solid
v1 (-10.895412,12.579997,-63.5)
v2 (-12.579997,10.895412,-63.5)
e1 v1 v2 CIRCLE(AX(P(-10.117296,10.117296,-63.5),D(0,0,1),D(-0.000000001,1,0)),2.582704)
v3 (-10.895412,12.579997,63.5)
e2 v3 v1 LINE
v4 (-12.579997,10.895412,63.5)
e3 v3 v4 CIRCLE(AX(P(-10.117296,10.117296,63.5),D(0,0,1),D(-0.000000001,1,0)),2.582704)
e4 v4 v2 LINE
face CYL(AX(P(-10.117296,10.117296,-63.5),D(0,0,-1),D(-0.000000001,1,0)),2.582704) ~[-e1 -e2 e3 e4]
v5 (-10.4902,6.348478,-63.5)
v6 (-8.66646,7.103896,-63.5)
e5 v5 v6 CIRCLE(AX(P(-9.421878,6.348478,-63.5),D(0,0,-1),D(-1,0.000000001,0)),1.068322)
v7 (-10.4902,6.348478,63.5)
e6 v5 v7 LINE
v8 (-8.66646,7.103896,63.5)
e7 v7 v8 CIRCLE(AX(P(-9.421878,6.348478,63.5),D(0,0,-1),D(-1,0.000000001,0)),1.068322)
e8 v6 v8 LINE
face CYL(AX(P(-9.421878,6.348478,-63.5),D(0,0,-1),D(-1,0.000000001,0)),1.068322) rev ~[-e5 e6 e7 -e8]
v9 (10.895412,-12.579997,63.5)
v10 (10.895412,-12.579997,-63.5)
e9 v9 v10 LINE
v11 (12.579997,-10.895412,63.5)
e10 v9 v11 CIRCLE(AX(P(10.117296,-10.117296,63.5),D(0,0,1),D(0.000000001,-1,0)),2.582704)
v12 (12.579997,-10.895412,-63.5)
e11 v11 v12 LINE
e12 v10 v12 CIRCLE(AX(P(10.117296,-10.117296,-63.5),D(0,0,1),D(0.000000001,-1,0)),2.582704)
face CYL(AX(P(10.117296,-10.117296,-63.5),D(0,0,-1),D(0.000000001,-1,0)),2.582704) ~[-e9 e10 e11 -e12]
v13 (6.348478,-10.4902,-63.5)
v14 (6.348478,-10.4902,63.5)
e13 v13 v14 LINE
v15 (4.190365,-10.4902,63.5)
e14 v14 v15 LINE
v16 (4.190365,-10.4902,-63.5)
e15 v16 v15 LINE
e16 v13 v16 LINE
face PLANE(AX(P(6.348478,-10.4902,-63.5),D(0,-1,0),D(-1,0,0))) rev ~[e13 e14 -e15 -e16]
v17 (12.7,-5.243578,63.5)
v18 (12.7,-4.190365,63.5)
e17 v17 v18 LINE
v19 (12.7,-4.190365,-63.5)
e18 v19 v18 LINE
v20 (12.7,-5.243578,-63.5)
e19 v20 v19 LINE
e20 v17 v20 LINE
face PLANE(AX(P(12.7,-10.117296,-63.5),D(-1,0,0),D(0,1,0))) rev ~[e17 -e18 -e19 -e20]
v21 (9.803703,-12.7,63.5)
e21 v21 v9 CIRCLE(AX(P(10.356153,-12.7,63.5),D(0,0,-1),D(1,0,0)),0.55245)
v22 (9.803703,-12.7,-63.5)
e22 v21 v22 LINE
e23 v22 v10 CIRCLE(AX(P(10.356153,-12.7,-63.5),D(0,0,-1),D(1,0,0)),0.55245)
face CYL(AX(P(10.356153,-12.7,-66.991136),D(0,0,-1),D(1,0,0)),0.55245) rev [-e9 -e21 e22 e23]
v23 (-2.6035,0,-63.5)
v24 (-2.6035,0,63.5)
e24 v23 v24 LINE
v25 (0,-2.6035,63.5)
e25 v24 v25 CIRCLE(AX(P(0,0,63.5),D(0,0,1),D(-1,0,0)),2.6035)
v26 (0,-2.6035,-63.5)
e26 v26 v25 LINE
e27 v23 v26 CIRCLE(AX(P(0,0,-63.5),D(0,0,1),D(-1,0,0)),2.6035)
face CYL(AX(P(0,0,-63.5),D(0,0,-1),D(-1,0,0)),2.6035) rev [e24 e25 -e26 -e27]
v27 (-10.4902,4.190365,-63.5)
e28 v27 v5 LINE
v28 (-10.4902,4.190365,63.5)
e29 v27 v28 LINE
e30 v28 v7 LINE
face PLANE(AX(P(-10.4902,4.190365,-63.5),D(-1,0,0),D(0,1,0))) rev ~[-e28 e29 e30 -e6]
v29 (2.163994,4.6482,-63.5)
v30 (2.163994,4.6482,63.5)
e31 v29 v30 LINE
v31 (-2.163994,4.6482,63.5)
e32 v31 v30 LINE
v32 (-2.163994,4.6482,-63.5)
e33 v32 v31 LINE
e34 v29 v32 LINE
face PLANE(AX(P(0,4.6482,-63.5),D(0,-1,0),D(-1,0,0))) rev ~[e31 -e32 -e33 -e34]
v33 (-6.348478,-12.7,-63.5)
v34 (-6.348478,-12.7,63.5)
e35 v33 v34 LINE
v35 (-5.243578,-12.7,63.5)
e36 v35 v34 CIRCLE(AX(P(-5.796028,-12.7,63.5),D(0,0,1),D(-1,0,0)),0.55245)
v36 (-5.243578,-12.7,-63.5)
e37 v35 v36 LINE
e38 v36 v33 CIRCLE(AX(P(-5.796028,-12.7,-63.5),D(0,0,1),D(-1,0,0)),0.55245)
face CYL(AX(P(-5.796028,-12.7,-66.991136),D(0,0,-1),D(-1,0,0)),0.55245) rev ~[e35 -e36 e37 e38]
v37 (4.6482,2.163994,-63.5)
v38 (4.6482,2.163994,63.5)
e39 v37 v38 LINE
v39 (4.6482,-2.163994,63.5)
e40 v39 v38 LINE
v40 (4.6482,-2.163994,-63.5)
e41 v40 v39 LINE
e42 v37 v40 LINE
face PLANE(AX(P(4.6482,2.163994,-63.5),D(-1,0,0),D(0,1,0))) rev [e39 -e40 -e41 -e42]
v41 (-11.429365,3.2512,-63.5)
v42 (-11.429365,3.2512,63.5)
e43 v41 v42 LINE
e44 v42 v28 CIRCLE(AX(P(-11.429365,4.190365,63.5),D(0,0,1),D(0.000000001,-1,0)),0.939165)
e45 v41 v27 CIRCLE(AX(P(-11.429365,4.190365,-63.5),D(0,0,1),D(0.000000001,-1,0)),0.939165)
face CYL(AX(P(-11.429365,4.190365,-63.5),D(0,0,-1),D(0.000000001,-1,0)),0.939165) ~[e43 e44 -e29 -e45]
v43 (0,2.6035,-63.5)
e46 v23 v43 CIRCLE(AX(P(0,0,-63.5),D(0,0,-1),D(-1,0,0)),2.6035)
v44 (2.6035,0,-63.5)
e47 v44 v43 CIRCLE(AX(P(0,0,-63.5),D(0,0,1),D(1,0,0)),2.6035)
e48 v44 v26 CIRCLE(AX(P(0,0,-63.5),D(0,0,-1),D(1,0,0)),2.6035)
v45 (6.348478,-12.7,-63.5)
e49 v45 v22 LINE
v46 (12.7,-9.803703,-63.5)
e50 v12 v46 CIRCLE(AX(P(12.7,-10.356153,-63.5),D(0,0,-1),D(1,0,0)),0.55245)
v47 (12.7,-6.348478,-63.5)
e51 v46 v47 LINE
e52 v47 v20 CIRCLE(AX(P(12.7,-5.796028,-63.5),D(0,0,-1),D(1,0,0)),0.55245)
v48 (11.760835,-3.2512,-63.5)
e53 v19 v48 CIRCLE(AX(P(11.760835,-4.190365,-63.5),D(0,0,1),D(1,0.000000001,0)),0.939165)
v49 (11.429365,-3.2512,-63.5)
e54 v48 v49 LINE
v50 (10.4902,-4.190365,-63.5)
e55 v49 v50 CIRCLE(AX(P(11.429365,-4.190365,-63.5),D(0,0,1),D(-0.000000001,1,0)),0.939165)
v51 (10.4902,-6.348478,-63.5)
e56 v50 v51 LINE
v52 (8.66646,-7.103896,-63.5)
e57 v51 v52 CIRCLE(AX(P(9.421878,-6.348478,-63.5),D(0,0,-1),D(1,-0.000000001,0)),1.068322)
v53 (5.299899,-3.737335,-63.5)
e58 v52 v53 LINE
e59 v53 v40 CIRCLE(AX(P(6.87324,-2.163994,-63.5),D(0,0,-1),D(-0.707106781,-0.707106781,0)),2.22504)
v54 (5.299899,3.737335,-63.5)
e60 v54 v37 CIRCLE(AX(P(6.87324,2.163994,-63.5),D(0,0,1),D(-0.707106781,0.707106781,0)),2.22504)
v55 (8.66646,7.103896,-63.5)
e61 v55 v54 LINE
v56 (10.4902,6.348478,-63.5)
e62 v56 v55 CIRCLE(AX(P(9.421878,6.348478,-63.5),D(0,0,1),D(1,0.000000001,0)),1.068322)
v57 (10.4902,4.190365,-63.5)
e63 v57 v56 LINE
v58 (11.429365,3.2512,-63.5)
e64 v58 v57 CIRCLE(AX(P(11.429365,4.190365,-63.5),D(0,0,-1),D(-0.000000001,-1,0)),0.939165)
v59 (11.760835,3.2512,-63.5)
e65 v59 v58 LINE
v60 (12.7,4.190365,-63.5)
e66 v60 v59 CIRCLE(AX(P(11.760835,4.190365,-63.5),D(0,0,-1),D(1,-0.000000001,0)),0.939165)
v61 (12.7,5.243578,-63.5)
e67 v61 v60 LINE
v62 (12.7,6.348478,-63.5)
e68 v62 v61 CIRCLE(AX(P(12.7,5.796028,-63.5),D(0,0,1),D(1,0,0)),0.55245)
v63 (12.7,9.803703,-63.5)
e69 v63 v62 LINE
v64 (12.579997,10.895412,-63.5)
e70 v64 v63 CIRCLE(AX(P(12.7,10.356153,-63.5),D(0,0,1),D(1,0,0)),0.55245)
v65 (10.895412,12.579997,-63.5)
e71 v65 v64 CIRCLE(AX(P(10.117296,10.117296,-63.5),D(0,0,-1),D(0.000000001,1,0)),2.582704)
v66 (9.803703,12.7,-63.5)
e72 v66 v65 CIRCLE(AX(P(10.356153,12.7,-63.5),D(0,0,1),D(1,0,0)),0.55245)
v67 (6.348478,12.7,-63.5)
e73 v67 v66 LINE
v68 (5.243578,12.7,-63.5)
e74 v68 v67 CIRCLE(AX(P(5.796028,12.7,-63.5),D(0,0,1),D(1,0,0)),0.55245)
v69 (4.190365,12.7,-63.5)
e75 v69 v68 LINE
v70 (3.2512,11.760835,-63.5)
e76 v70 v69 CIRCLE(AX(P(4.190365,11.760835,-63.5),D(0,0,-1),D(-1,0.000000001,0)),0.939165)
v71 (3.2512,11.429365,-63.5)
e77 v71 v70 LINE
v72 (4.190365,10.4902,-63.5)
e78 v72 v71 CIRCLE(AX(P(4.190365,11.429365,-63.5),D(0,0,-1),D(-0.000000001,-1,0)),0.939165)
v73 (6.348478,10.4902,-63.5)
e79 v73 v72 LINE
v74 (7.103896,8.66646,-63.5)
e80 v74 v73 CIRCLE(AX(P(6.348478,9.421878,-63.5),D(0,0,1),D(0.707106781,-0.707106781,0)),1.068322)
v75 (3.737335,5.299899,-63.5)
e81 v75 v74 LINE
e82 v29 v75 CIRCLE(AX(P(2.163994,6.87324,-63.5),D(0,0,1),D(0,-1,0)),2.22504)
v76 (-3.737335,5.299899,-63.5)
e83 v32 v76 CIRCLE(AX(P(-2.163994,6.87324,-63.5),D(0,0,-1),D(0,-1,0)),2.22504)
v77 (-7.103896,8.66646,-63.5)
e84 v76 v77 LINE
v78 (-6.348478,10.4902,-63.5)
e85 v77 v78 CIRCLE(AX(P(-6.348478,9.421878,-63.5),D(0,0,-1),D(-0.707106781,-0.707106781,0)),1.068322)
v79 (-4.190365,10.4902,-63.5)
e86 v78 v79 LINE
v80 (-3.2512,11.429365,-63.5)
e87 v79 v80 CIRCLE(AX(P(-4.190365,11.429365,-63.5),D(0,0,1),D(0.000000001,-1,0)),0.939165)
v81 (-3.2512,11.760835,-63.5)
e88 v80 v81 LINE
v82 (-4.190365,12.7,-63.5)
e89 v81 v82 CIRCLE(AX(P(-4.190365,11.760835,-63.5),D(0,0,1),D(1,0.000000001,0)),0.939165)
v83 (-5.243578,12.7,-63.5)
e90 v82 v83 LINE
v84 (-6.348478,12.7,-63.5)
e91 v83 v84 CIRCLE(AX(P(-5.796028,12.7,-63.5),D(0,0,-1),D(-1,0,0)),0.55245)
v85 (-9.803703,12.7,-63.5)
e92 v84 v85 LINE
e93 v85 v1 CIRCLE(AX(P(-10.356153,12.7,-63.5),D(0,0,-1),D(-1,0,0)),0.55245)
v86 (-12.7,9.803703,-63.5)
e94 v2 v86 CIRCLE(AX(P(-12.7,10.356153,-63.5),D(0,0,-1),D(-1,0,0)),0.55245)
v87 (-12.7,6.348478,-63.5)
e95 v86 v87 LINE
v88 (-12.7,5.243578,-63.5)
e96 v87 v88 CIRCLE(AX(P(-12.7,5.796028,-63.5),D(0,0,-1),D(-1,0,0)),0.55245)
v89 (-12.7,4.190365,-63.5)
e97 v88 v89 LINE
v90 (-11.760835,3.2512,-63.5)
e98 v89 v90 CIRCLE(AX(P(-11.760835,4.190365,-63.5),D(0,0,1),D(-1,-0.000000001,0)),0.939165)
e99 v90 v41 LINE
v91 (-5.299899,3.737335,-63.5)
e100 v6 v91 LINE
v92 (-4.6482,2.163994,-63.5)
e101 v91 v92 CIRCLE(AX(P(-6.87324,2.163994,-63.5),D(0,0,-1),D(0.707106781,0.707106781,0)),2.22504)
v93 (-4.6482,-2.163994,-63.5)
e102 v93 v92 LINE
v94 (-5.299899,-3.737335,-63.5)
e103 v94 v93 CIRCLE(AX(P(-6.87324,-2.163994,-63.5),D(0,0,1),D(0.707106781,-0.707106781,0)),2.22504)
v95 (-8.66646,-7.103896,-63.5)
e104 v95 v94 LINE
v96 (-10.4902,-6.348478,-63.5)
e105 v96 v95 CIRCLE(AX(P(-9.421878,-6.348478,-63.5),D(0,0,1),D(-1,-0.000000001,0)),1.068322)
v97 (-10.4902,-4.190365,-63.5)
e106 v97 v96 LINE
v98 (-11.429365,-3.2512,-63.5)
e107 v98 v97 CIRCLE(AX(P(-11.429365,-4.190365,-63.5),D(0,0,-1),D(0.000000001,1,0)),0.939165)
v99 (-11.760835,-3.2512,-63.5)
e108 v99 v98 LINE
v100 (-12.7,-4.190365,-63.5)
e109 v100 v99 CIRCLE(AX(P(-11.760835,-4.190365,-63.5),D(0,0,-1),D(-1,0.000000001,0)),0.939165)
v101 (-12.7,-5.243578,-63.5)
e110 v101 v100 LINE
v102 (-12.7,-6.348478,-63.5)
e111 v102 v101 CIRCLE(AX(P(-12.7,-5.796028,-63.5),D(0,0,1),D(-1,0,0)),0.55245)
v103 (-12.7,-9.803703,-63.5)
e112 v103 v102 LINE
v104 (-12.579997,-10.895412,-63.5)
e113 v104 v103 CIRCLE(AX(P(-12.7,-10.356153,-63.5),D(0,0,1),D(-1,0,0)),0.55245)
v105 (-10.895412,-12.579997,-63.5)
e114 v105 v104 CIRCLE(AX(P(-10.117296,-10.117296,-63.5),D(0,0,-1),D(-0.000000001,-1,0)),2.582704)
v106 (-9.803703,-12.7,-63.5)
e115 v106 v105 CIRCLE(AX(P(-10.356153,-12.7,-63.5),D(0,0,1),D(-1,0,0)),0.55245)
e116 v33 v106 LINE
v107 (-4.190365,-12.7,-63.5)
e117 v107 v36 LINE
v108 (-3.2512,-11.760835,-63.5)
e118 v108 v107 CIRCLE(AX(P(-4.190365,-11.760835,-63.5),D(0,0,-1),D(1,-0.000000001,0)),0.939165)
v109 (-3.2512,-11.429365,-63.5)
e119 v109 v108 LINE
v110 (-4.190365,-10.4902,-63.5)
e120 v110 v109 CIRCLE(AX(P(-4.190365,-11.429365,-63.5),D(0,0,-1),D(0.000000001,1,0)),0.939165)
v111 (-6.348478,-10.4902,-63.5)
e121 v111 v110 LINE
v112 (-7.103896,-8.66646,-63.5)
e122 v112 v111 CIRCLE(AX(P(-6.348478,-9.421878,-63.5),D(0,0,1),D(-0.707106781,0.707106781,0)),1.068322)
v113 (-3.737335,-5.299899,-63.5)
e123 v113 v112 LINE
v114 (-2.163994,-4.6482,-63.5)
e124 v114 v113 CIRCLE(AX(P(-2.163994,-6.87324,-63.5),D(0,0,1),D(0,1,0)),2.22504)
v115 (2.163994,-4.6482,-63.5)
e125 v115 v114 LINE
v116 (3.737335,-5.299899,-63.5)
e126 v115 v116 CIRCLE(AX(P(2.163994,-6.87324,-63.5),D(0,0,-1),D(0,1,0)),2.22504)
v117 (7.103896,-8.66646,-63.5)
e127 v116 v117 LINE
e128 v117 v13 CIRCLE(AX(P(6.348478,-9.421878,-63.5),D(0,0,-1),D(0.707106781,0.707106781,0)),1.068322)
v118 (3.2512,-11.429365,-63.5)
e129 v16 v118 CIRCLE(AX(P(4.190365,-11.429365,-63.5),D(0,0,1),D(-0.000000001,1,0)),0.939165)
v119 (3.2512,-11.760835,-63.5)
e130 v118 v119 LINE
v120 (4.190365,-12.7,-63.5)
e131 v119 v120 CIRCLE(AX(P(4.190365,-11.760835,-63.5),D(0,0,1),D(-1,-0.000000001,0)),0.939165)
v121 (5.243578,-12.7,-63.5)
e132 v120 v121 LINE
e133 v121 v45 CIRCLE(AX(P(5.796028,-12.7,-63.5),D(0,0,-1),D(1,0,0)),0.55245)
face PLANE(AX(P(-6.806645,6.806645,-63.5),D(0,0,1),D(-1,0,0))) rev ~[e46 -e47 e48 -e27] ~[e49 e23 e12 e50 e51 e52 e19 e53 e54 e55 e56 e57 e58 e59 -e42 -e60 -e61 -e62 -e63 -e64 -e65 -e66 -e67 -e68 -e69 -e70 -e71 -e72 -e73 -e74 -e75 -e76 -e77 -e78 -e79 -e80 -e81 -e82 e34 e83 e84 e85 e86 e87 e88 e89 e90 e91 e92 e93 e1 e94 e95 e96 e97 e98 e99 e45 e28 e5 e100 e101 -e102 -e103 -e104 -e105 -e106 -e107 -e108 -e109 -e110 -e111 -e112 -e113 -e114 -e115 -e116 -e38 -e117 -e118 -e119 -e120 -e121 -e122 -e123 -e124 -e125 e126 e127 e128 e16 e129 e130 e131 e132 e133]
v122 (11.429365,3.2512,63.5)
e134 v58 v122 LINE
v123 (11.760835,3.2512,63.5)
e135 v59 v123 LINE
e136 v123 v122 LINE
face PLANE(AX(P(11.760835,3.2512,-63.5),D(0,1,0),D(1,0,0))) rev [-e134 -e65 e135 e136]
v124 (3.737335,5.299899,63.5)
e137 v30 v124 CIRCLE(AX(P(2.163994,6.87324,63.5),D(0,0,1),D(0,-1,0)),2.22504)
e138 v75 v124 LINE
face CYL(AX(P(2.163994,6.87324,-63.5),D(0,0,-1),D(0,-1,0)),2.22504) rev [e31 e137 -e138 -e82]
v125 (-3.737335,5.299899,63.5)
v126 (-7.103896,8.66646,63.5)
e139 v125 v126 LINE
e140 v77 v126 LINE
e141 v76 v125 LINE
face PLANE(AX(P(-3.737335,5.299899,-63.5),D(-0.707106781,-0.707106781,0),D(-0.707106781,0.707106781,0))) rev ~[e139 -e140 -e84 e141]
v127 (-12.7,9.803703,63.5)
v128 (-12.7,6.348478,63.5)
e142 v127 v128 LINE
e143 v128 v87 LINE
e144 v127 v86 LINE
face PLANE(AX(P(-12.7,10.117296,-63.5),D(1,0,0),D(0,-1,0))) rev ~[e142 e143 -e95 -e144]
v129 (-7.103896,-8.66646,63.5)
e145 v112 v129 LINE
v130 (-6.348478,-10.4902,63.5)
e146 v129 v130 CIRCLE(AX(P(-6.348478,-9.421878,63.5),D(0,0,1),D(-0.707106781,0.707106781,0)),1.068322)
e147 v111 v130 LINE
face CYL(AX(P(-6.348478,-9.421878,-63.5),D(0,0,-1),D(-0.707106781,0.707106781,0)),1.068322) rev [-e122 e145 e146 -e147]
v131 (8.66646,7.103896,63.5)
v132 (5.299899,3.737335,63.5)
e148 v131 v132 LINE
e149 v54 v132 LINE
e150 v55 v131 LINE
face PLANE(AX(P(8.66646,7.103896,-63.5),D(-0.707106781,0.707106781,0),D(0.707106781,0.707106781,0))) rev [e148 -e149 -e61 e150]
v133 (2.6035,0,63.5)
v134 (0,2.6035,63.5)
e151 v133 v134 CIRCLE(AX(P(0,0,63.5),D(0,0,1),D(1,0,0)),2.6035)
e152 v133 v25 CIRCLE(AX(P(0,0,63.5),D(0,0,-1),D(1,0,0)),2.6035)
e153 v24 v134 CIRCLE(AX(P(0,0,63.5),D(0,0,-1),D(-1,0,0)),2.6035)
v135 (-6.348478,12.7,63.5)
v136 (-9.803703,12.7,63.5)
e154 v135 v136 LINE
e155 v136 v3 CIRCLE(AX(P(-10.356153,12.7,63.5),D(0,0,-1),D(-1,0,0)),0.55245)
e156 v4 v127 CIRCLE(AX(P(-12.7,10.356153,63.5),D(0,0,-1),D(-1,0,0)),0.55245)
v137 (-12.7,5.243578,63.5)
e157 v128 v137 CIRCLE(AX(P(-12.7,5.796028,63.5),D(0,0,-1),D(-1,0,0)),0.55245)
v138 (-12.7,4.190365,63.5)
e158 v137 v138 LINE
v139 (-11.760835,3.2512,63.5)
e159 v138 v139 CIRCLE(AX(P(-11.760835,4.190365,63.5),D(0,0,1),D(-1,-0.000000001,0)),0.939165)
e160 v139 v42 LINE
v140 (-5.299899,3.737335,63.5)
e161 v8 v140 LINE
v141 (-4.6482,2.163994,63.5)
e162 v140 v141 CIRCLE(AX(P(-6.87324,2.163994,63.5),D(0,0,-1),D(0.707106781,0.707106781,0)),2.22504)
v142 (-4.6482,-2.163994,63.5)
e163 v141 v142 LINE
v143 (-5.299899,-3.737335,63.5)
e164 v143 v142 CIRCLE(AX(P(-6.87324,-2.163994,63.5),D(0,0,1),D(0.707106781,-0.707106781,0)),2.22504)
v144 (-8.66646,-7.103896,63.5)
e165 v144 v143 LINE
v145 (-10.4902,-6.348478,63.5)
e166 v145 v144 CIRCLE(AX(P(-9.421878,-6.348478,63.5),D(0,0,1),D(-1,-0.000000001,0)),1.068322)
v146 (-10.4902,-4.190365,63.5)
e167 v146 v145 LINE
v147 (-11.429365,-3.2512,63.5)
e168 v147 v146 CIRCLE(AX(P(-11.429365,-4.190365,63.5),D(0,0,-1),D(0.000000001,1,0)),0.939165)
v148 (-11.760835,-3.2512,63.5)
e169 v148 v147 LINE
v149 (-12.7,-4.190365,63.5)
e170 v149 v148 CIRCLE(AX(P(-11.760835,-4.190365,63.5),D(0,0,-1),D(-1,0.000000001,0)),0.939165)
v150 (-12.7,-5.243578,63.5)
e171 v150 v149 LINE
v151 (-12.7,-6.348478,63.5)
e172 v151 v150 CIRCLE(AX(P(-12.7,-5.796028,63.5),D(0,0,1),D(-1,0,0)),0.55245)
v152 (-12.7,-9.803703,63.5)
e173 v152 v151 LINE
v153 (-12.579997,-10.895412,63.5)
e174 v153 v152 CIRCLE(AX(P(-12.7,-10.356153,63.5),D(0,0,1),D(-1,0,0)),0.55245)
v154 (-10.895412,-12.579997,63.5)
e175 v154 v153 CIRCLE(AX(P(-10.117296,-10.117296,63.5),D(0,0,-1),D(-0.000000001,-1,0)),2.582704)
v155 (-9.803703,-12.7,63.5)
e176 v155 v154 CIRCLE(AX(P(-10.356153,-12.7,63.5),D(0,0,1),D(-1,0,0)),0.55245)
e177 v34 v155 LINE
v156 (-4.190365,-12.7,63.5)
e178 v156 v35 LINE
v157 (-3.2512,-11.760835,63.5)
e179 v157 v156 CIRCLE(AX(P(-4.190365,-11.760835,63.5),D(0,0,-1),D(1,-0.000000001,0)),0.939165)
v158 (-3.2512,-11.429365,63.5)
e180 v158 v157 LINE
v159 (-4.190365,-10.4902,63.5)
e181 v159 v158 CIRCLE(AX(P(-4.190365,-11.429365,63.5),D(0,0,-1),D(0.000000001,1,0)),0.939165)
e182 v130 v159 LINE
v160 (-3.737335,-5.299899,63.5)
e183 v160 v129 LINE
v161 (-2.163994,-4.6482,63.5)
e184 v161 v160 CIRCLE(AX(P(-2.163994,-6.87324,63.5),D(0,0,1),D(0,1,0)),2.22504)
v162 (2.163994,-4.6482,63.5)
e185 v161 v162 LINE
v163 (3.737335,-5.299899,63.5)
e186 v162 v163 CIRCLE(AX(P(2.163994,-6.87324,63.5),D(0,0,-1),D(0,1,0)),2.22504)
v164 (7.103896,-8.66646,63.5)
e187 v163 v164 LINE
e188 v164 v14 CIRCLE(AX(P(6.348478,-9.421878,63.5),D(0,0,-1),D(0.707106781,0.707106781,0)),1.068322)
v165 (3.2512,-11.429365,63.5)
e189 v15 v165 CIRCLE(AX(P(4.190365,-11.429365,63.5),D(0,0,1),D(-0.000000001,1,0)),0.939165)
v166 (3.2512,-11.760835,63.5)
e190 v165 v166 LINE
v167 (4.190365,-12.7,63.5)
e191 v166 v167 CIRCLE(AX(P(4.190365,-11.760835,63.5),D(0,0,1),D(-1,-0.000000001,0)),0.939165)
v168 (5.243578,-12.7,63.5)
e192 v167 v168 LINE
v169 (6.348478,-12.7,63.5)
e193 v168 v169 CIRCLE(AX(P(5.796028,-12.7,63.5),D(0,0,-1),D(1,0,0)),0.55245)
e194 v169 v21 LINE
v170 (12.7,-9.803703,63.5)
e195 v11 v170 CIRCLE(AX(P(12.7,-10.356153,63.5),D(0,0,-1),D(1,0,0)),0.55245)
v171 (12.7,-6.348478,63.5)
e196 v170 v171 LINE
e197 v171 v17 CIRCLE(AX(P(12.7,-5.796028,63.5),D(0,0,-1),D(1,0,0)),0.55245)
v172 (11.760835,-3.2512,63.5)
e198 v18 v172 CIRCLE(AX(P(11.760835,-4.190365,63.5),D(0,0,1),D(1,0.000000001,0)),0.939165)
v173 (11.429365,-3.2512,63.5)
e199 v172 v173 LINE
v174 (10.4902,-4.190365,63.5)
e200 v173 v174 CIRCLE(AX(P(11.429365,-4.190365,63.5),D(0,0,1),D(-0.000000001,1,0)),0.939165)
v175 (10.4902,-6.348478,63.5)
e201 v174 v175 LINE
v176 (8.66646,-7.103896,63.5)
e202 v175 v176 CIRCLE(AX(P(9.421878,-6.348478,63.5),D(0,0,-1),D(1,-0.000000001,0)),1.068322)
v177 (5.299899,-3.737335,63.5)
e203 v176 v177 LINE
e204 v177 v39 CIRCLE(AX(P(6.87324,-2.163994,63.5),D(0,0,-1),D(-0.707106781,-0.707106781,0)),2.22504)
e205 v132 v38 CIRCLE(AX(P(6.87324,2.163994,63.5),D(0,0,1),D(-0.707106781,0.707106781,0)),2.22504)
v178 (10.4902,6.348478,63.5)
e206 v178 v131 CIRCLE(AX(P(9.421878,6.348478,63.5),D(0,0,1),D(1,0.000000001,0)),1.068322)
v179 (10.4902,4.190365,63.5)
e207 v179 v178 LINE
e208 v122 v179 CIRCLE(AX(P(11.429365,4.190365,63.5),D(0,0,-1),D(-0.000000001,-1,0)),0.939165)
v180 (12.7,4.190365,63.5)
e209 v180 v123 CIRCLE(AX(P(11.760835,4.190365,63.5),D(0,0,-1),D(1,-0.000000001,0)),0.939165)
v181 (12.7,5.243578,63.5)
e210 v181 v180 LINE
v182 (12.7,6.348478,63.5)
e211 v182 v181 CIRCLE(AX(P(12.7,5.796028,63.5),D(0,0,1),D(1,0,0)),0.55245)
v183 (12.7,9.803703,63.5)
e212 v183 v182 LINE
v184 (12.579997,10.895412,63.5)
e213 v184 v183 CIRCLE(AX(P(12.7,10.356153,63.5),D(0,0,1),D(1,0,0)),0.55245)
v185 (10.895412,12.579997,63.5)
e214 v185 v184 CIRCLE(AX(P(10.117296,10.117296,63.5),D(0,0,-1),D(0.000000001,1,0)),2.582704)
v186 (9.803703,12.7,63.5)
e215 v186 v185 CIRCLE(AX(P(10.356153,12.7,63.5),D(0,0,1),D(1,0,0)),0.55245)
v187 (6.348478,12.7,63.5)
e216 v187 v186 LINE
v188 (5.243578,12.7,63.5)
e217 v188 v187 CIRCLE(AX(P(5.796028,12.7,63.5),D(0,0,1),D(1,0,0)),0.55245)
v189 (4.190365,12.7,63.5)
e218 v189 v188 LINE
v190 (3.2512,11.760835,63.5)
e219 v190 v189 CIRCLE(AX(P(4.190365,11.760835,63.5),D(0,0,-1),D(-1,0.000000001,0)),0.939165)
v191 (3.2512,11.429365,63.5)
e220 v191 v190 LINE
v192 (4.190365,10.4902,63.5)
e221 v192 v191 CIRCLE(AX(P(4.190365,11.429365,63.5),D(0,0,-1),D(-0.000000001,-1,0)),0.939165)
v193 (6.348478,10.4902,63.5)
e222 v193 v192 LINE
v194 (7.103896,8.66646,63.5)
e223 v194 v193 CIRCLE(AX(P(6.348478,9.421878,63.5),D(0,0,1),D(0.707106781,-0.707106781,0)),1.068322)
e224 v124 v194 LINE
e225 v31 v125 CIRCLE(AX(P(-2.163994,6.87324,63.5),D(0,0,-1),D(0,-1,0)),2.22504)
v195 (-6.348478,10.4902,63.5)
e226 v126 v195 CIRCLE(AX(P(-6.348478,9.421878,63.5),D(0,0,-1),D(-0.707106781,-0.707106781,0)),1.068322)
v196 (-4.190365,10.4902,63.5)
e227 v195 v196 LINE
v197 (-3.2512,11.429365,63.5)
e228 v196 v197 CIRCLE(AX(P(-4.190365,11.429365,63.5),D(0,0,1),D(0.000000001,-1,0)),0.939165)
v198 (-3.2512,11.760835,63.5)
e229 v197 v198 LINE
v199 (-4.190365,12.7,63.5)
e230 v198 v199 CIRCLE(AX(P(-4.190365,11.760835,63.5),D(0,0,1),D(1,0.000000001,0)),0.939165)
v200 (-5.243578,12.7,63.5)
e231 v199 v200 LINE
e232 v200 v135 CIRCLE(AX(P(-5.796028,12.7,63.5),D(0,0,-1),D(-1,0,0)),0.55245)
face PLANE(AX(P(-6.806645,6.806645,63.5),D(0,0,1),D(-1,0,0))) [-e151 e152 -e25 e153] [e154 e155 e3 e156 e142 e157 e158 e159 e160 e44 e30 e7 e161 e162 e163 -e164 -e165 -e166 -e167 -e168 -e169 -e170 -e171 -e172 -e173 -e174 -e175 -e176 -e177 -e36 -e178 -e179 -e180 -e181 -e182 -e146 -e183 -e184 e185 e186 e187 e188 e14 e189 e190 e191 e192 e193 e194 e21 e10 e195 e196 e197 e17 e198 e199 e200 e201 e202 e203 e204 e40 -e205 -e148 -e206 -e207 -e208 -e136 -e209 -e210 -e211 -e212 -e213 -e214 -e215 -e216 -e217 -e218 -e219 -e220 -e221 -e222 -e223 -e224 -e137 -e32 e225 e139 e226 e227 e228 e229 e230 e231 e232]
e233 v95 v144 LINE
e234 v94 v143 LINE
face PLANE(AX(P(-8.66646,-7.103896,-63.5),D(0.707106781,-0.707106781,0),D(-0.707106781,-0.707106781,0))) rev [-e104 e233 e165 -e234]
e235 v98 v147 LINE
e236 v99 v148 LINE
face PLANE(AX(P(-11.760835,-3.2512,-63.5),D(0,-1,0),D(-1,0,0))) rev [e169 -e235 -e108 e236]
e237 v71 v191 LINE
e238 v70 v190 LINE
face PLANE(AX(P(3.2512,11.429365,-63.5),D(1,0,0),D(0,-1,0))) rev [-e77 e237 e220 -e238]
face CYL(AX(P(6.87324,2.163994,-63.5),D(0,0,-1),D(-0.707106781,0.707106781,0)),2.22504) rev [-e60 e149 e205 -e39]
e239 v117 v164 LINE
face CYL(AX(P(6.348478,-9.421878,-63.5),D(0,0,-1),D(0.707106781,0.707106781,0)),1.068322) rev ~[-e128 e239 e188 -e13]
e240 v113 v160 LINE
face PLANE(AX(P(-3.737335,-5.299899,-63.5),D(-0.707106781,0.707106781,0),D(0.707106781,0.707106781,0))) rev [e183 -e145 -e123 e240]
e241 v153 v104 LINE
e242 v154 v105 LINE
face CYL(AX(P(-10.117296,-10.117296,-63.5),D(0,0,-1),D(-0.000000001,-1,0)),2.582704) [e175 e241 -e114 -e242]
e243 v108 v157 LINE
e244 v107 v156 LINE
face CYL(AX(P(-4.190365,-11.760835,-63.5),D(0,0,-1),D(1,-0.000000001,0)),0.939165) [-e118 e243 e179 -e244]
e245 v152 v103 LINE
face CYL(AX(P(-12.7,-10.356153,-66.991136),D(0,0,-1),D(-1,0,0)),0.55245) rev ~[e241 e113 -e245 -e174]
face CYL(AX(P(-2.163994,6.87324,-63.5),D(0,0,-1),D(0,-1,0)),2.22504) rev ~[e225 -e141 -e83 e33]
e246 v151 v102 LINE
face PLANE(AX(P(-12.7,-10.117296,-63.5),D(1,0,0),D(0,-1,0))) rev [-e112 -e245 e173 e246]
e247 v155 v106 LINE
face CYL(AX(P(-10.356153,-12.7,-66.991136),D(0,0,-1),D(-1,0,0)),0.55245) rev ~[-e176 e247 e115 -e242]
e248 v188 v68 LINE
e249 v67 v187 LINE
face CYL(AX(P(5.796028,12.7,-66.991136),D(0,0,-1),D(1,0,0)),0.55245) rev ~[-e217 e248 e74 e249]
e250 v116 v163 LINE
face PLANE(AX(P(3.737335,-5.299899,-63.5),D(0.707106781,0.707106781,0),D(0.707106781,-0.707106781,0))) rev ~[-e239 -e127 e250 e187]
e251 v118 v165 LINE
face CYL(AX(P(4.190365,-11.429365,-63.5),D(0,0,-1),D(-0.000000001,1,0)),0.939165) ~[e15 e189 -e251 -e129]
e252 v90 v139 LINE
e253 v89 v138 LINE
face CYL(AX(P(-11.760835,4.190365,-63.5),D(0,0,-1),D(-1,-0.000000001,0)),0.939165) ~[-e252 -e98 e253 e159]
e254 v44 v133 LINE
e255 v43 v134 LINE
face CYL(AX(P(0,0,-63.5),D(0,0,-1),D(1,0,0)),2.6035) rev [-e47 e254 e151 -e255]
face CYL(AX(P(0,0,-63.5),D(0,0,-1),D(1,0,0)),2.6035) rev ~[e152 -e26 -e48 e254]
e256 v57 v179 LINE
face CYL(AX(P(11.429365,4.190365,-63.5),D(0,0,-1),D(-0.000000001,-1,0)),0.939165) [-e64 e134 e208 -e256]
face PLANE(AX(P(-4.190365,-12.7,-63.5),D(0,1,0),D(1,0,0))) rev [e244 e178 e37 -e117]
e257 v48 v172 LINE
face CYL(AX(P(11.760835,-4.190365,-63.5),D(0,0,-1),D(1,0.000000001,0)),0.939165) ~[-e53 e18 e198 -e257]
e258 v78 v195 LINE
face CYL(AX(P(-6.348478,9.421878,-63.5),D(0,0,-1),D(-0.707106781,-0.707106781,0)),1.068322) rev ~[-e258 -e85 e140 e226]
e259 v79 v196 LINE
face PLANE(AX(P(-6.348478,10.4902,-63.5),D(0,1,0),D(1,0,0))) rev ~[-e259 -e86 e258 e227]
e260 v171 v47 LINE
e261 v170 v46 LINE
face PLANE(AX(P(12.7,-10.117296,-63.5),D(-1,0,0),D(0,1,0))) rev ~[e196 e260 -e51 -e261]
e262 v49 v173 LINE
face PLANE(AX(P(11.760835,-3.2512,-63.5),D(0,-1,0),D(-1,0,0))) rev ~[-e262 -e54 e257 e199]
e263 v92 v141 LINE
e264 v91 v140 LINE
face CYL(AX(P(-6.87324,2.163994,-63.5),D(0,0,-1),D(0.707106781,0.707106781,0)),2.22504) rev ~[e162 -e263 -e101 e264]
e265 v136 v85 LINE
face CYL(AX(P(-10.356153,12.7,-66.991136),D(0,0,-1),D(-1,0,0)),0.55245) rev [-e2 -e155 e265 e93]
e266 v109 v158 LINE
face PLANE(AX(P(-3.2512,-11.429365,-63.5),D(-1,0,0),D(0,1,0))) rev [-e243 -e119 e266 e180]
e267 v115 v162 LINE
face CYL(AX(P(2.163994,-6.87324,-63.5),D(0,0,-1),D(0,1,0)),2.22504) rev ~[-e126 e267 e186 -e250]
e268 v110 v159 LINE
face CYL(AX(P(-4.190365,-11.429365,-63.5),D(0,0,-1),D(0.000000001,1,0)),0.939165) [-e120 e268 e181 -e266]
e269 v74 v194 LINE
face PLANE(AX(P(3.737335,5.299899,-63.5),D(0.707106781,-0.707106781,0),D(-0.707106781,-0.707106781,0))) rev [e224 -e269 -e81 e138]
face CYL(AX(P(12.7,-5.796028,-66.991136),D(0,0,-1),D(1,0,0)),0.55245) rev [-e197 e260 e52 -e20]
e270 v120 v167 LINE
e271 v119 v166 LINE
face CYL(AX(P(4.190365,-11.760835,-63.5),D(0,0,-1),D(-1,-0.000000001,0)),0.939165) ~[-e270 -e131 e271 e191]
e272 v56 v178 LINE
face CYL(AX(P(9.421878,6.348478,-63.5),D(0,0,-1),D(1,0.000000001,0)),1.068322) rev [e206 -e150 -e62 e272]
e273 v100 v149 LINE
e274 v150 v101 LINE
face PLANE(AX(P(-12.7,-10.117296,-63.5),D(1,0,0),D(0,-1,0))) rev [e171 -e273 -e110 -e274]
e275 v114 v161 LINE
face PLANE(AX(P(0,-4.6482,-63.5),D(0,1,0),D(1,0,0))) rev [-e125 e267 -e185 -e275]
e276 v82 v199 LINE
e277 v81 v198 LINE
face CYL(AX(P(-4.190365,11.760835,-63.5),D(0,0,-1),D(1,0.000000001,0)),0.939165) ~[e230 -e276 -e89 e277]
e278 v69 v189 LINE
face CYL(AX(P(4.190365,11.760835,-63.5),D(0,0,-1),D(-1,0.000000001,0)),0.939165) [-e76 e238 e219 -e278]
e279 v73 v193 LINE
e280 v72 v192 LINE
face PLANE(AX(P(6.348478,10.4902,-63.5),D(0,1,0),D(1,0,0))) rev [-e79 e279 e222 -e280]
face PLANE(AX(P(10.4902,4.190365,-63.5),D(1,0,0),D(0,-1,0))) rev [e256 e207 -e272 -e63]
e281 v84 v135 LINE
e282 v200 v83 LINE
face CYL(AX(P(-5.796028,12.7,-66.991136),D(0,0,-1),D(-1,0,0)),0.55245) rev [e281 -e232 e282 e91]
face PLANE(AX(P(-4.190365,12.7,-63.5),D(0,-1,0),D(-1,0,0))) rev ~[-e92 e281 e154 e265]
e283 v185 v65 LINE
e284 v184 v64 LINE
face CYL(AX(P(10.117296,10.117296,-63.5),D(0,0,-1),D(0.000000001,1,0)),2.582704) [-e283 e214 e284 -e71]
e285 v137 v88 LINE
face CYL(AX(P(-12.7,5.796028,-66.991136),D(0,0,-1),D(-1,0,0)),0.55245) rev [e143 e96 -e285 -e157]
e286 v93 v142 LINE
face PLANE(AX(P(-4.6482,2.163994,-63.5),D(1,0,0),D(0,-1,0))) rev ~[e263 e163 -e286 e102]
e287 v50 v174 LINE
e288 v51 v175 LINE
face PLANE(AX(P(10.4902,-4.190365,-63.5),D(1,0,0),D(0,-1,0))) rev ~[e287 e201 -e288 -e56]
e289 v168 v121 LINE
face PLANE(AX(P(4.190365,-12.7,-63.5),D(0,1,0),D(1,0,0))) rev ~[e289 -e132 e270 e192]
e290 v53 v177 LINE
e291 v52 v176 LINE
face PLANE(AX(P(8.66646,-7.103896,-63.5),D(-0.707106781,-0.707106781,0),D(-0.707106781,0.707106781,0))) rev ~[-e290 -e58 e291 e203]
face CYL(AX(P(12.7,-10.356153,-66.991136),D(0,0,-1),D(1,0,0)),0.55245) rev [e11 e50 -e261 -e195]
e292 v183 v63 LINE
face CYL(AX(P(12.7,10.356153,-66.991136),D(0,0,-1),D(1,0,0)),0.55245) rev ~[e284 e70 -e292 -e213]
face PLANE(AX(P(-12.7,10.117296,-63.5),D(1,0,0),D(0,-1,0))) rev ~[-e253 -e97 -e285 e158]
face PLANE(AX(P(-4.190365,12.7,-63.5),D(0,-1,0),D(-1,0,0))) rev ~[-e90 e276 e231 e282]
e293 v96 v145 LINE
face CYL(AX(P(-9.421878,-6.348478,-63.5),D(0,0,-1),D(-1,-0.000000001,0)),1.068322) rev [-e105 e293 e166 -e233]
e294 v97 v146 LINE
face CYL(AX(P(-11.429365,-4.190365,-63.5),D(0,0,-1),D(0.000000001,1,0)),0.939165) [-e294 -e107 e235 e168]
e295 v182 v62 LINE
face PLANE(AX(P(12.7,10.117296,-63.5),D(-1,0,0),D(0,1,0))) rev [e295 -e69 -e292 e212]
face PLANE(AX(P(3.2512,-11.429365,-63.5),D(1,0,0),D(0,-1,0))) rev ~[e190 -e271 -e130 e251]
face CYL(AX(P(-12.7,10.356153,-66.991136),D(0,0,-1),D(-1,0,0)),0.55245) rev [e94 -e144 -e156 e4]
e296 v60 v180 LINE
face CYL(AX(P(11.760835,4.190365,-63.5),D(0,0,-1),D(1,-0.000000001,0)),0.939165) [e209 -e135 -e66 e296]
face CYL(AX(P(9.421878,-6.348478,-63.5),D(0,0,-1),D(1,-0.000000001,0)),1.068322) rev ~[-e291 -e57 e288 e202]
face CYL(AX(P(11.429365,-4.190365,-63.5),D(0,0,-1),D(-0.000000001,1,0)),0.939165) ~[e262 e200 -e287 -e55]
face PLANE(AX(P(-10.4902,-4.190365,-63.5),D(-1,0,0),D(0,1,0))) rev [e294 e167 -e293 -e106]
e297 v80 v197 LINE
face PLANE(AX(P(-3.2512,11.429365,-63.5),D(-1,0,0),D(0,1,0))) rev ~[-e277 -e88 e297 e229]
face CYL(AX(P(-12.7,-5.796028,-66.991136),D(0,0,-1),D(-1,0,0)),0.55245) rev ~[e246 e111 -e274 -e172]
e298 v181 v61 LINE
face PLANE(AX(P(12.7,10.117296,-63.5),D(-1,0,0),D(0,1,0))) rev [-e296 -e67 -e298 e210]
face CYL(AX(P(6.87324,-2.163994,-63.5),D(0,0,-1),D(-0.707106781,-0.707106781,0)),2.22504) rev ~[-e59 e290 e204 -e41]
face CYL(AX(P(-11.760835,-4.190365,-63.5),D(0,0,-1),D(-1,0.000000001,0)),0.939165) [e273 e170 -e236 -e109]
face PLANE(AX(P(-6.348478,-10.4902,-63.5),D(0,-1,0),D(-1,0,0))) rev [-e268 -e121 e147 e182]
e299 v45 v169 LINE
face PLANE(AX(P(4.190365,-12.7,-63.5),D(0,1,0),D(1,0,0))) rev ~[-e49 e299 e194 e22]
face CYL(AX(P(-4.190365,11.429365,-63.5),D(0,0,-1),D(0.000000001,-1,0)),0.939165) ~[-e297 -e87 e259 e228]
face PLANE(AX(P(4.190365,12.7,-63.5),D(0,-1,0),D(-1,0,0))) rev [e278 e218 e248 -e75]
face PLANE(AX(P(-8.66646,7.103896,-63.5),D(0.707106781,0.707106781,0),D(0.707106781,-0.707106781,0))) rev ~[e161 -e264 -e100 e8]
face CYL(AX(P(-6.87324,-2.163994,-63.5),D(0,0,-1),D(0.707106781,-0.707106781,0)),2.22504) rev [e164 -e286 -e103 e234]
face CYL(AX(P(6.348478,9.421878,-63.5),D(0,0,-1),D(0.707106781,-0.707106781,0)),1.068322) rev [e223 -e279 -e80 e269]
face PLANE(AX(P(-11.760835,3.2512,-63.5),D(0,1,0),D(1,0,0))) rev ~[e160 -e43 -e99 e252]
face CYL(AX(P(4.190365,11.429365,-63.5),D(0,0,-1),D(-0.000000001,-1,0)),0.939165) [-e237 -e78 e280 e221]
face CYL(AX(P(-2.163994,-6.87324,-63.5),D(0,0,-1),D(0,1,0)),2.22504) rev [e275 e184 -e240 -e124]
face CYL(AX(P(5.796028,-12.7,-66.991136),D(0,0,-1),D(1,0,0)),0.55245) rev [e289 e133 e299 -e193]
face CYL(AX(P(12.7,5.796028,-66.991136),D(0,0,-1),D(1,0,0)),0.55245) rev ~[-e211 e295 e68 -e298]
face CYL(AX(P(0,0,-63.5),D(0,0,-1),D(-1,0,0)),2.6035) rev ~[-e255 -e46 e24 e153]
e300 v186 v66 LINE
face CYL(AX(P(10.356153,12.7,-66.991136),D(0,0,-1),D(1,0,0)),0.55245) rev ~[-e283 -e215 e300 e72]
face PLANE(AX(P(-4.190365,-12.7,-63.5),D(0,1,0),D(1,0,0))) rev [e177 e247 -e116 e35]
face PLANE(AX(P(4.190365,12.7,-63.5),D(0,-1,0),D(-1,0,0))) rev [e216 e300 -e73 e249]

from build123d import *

# Parameters (mm, degrees)
BOSS_EXTRUDE1_START     = -63.5
BOSS_EXTRUDE1_DEPTH     = 127
CUT_EXTRUDE1_DEPTH      = 66.991135768
CUT_EXTRUDE1_DEPTH_BACK = 66.991135768
SKETCH5_R               = 0.55245


with BuildPart() as part:
    # Sketch4 → Boss-Extrude1 (new body)
    with BuildSketch(Plane.XY.offset(BOSS_EXTRUDE1_START)):
        with BuildLine():
            Line((4.190365, -12.7), (10.11729625, -12.7))
            ThreePointArc((10.11729625, -12.7), (11.943543585, -11.943543585), (12.7, -10.11729625))
            Line((12.7, -10.11729625), (12.7, -4.190365))
            ThreePointArc((12.7, -4.190365), (12.42492494, -3.52627506), (11.760835, -3.2512))
            Line((11.760835, -3.2512), (11.429365, -3.2512))
            ThreePointArc((11.429365, -3.2512), (10.76527506, -3.52627506), (10.4902, -4.190365))
            Line((10.4902, -4.190365), (10.4902, -6.348478019))
            ThreePointArc((10.4902, -6.348478019), (9.830707141, -7.335478831), (8.666460301, -7.103895736))
            Line((8.666460301, -7.103895736), (5.299899128, -3.737334563))
            ThreePointArc((5.299899128, -3.737334563), (4.817571085, -3.015479634), (4.6482, -2.16399369))
            Line((4.6482, -2.16399369), (4.6482, 0))
            Line((4.6482, 0), (2.6035, 0))
            ThreePointArc((2.6035, 0), (1.840952505, -1.840952505), (0, -2.6035))
            Line((0, -2.6035), (0, -4.6482))
            Line((0, -4.6482), (2.16399369, -4.6482))
            ThreePointArc((2.16399369, -4.6482), (3.015479634, -4.817571085), (3.737334563, -5.299899128))
            Line((3.737334563, -5.299899128), (7.103895736, -8.666460301))
            ThreePointArc((7.103895736, -8.666460301), (7.335478831, -9.830707141), (6.348478019, -10.4902))
            Line((6.348478019, -10.4902), (4.190365, -10.4902))
            ThreePointArc((4.190365, -10.4902), (3.52627506, -10.76527506), (3.2512, -11.429365))
            Line((3.2512, -11.429365), (3.2512, -11.760835))
            ThreePointArc((3.2512, -11.760835), (3.52627506, -12.42492494), (4.190365, -12.7))
        make_face()
    extrude(amount=BOSS_EXTRUDE1_DEPTH)

    # Sketch5 → Cut-Extrude1 (cut, two sides: drawn at the far end of the back side and taken through both)
    with BuildSketch(Plane.XY.offset(-CUT_EXTRUDE1_DEPTH_BACK)):
        with Locations((10.356153152, -12.7)):
            Circle(SKETCH5_R)
        with Locations((5.796028019, -12.7)):
            Circle(SKETCH5_R)
        with Locations((12.7, -10.356153152)):
            Circle(SKETCH5_R)
        with Locations((12.7, -5.796028019)):
            Circle(SKETCH5_R)
    extrude(amount=CUT_EXTRUDE1_DEPTH + CUT_EXTRUDE1_DEPTH_BACK, mode=Mode.SUBTRACT)

    # Mirror1: part across plane


with BuildPart() as part_1:
    add(part.part)
    add(part.part.mirror(Plane(origin=(0, 0, 0), x_dir=(0, 0, 1), z_dir=(1, 0, 0))))

    # Mirror2: part across plane


with BuildPart() as part_2:
    add(part_1.part)
    add(part_1.part.mirror(Plane.ZX))


solid = part_2.part
